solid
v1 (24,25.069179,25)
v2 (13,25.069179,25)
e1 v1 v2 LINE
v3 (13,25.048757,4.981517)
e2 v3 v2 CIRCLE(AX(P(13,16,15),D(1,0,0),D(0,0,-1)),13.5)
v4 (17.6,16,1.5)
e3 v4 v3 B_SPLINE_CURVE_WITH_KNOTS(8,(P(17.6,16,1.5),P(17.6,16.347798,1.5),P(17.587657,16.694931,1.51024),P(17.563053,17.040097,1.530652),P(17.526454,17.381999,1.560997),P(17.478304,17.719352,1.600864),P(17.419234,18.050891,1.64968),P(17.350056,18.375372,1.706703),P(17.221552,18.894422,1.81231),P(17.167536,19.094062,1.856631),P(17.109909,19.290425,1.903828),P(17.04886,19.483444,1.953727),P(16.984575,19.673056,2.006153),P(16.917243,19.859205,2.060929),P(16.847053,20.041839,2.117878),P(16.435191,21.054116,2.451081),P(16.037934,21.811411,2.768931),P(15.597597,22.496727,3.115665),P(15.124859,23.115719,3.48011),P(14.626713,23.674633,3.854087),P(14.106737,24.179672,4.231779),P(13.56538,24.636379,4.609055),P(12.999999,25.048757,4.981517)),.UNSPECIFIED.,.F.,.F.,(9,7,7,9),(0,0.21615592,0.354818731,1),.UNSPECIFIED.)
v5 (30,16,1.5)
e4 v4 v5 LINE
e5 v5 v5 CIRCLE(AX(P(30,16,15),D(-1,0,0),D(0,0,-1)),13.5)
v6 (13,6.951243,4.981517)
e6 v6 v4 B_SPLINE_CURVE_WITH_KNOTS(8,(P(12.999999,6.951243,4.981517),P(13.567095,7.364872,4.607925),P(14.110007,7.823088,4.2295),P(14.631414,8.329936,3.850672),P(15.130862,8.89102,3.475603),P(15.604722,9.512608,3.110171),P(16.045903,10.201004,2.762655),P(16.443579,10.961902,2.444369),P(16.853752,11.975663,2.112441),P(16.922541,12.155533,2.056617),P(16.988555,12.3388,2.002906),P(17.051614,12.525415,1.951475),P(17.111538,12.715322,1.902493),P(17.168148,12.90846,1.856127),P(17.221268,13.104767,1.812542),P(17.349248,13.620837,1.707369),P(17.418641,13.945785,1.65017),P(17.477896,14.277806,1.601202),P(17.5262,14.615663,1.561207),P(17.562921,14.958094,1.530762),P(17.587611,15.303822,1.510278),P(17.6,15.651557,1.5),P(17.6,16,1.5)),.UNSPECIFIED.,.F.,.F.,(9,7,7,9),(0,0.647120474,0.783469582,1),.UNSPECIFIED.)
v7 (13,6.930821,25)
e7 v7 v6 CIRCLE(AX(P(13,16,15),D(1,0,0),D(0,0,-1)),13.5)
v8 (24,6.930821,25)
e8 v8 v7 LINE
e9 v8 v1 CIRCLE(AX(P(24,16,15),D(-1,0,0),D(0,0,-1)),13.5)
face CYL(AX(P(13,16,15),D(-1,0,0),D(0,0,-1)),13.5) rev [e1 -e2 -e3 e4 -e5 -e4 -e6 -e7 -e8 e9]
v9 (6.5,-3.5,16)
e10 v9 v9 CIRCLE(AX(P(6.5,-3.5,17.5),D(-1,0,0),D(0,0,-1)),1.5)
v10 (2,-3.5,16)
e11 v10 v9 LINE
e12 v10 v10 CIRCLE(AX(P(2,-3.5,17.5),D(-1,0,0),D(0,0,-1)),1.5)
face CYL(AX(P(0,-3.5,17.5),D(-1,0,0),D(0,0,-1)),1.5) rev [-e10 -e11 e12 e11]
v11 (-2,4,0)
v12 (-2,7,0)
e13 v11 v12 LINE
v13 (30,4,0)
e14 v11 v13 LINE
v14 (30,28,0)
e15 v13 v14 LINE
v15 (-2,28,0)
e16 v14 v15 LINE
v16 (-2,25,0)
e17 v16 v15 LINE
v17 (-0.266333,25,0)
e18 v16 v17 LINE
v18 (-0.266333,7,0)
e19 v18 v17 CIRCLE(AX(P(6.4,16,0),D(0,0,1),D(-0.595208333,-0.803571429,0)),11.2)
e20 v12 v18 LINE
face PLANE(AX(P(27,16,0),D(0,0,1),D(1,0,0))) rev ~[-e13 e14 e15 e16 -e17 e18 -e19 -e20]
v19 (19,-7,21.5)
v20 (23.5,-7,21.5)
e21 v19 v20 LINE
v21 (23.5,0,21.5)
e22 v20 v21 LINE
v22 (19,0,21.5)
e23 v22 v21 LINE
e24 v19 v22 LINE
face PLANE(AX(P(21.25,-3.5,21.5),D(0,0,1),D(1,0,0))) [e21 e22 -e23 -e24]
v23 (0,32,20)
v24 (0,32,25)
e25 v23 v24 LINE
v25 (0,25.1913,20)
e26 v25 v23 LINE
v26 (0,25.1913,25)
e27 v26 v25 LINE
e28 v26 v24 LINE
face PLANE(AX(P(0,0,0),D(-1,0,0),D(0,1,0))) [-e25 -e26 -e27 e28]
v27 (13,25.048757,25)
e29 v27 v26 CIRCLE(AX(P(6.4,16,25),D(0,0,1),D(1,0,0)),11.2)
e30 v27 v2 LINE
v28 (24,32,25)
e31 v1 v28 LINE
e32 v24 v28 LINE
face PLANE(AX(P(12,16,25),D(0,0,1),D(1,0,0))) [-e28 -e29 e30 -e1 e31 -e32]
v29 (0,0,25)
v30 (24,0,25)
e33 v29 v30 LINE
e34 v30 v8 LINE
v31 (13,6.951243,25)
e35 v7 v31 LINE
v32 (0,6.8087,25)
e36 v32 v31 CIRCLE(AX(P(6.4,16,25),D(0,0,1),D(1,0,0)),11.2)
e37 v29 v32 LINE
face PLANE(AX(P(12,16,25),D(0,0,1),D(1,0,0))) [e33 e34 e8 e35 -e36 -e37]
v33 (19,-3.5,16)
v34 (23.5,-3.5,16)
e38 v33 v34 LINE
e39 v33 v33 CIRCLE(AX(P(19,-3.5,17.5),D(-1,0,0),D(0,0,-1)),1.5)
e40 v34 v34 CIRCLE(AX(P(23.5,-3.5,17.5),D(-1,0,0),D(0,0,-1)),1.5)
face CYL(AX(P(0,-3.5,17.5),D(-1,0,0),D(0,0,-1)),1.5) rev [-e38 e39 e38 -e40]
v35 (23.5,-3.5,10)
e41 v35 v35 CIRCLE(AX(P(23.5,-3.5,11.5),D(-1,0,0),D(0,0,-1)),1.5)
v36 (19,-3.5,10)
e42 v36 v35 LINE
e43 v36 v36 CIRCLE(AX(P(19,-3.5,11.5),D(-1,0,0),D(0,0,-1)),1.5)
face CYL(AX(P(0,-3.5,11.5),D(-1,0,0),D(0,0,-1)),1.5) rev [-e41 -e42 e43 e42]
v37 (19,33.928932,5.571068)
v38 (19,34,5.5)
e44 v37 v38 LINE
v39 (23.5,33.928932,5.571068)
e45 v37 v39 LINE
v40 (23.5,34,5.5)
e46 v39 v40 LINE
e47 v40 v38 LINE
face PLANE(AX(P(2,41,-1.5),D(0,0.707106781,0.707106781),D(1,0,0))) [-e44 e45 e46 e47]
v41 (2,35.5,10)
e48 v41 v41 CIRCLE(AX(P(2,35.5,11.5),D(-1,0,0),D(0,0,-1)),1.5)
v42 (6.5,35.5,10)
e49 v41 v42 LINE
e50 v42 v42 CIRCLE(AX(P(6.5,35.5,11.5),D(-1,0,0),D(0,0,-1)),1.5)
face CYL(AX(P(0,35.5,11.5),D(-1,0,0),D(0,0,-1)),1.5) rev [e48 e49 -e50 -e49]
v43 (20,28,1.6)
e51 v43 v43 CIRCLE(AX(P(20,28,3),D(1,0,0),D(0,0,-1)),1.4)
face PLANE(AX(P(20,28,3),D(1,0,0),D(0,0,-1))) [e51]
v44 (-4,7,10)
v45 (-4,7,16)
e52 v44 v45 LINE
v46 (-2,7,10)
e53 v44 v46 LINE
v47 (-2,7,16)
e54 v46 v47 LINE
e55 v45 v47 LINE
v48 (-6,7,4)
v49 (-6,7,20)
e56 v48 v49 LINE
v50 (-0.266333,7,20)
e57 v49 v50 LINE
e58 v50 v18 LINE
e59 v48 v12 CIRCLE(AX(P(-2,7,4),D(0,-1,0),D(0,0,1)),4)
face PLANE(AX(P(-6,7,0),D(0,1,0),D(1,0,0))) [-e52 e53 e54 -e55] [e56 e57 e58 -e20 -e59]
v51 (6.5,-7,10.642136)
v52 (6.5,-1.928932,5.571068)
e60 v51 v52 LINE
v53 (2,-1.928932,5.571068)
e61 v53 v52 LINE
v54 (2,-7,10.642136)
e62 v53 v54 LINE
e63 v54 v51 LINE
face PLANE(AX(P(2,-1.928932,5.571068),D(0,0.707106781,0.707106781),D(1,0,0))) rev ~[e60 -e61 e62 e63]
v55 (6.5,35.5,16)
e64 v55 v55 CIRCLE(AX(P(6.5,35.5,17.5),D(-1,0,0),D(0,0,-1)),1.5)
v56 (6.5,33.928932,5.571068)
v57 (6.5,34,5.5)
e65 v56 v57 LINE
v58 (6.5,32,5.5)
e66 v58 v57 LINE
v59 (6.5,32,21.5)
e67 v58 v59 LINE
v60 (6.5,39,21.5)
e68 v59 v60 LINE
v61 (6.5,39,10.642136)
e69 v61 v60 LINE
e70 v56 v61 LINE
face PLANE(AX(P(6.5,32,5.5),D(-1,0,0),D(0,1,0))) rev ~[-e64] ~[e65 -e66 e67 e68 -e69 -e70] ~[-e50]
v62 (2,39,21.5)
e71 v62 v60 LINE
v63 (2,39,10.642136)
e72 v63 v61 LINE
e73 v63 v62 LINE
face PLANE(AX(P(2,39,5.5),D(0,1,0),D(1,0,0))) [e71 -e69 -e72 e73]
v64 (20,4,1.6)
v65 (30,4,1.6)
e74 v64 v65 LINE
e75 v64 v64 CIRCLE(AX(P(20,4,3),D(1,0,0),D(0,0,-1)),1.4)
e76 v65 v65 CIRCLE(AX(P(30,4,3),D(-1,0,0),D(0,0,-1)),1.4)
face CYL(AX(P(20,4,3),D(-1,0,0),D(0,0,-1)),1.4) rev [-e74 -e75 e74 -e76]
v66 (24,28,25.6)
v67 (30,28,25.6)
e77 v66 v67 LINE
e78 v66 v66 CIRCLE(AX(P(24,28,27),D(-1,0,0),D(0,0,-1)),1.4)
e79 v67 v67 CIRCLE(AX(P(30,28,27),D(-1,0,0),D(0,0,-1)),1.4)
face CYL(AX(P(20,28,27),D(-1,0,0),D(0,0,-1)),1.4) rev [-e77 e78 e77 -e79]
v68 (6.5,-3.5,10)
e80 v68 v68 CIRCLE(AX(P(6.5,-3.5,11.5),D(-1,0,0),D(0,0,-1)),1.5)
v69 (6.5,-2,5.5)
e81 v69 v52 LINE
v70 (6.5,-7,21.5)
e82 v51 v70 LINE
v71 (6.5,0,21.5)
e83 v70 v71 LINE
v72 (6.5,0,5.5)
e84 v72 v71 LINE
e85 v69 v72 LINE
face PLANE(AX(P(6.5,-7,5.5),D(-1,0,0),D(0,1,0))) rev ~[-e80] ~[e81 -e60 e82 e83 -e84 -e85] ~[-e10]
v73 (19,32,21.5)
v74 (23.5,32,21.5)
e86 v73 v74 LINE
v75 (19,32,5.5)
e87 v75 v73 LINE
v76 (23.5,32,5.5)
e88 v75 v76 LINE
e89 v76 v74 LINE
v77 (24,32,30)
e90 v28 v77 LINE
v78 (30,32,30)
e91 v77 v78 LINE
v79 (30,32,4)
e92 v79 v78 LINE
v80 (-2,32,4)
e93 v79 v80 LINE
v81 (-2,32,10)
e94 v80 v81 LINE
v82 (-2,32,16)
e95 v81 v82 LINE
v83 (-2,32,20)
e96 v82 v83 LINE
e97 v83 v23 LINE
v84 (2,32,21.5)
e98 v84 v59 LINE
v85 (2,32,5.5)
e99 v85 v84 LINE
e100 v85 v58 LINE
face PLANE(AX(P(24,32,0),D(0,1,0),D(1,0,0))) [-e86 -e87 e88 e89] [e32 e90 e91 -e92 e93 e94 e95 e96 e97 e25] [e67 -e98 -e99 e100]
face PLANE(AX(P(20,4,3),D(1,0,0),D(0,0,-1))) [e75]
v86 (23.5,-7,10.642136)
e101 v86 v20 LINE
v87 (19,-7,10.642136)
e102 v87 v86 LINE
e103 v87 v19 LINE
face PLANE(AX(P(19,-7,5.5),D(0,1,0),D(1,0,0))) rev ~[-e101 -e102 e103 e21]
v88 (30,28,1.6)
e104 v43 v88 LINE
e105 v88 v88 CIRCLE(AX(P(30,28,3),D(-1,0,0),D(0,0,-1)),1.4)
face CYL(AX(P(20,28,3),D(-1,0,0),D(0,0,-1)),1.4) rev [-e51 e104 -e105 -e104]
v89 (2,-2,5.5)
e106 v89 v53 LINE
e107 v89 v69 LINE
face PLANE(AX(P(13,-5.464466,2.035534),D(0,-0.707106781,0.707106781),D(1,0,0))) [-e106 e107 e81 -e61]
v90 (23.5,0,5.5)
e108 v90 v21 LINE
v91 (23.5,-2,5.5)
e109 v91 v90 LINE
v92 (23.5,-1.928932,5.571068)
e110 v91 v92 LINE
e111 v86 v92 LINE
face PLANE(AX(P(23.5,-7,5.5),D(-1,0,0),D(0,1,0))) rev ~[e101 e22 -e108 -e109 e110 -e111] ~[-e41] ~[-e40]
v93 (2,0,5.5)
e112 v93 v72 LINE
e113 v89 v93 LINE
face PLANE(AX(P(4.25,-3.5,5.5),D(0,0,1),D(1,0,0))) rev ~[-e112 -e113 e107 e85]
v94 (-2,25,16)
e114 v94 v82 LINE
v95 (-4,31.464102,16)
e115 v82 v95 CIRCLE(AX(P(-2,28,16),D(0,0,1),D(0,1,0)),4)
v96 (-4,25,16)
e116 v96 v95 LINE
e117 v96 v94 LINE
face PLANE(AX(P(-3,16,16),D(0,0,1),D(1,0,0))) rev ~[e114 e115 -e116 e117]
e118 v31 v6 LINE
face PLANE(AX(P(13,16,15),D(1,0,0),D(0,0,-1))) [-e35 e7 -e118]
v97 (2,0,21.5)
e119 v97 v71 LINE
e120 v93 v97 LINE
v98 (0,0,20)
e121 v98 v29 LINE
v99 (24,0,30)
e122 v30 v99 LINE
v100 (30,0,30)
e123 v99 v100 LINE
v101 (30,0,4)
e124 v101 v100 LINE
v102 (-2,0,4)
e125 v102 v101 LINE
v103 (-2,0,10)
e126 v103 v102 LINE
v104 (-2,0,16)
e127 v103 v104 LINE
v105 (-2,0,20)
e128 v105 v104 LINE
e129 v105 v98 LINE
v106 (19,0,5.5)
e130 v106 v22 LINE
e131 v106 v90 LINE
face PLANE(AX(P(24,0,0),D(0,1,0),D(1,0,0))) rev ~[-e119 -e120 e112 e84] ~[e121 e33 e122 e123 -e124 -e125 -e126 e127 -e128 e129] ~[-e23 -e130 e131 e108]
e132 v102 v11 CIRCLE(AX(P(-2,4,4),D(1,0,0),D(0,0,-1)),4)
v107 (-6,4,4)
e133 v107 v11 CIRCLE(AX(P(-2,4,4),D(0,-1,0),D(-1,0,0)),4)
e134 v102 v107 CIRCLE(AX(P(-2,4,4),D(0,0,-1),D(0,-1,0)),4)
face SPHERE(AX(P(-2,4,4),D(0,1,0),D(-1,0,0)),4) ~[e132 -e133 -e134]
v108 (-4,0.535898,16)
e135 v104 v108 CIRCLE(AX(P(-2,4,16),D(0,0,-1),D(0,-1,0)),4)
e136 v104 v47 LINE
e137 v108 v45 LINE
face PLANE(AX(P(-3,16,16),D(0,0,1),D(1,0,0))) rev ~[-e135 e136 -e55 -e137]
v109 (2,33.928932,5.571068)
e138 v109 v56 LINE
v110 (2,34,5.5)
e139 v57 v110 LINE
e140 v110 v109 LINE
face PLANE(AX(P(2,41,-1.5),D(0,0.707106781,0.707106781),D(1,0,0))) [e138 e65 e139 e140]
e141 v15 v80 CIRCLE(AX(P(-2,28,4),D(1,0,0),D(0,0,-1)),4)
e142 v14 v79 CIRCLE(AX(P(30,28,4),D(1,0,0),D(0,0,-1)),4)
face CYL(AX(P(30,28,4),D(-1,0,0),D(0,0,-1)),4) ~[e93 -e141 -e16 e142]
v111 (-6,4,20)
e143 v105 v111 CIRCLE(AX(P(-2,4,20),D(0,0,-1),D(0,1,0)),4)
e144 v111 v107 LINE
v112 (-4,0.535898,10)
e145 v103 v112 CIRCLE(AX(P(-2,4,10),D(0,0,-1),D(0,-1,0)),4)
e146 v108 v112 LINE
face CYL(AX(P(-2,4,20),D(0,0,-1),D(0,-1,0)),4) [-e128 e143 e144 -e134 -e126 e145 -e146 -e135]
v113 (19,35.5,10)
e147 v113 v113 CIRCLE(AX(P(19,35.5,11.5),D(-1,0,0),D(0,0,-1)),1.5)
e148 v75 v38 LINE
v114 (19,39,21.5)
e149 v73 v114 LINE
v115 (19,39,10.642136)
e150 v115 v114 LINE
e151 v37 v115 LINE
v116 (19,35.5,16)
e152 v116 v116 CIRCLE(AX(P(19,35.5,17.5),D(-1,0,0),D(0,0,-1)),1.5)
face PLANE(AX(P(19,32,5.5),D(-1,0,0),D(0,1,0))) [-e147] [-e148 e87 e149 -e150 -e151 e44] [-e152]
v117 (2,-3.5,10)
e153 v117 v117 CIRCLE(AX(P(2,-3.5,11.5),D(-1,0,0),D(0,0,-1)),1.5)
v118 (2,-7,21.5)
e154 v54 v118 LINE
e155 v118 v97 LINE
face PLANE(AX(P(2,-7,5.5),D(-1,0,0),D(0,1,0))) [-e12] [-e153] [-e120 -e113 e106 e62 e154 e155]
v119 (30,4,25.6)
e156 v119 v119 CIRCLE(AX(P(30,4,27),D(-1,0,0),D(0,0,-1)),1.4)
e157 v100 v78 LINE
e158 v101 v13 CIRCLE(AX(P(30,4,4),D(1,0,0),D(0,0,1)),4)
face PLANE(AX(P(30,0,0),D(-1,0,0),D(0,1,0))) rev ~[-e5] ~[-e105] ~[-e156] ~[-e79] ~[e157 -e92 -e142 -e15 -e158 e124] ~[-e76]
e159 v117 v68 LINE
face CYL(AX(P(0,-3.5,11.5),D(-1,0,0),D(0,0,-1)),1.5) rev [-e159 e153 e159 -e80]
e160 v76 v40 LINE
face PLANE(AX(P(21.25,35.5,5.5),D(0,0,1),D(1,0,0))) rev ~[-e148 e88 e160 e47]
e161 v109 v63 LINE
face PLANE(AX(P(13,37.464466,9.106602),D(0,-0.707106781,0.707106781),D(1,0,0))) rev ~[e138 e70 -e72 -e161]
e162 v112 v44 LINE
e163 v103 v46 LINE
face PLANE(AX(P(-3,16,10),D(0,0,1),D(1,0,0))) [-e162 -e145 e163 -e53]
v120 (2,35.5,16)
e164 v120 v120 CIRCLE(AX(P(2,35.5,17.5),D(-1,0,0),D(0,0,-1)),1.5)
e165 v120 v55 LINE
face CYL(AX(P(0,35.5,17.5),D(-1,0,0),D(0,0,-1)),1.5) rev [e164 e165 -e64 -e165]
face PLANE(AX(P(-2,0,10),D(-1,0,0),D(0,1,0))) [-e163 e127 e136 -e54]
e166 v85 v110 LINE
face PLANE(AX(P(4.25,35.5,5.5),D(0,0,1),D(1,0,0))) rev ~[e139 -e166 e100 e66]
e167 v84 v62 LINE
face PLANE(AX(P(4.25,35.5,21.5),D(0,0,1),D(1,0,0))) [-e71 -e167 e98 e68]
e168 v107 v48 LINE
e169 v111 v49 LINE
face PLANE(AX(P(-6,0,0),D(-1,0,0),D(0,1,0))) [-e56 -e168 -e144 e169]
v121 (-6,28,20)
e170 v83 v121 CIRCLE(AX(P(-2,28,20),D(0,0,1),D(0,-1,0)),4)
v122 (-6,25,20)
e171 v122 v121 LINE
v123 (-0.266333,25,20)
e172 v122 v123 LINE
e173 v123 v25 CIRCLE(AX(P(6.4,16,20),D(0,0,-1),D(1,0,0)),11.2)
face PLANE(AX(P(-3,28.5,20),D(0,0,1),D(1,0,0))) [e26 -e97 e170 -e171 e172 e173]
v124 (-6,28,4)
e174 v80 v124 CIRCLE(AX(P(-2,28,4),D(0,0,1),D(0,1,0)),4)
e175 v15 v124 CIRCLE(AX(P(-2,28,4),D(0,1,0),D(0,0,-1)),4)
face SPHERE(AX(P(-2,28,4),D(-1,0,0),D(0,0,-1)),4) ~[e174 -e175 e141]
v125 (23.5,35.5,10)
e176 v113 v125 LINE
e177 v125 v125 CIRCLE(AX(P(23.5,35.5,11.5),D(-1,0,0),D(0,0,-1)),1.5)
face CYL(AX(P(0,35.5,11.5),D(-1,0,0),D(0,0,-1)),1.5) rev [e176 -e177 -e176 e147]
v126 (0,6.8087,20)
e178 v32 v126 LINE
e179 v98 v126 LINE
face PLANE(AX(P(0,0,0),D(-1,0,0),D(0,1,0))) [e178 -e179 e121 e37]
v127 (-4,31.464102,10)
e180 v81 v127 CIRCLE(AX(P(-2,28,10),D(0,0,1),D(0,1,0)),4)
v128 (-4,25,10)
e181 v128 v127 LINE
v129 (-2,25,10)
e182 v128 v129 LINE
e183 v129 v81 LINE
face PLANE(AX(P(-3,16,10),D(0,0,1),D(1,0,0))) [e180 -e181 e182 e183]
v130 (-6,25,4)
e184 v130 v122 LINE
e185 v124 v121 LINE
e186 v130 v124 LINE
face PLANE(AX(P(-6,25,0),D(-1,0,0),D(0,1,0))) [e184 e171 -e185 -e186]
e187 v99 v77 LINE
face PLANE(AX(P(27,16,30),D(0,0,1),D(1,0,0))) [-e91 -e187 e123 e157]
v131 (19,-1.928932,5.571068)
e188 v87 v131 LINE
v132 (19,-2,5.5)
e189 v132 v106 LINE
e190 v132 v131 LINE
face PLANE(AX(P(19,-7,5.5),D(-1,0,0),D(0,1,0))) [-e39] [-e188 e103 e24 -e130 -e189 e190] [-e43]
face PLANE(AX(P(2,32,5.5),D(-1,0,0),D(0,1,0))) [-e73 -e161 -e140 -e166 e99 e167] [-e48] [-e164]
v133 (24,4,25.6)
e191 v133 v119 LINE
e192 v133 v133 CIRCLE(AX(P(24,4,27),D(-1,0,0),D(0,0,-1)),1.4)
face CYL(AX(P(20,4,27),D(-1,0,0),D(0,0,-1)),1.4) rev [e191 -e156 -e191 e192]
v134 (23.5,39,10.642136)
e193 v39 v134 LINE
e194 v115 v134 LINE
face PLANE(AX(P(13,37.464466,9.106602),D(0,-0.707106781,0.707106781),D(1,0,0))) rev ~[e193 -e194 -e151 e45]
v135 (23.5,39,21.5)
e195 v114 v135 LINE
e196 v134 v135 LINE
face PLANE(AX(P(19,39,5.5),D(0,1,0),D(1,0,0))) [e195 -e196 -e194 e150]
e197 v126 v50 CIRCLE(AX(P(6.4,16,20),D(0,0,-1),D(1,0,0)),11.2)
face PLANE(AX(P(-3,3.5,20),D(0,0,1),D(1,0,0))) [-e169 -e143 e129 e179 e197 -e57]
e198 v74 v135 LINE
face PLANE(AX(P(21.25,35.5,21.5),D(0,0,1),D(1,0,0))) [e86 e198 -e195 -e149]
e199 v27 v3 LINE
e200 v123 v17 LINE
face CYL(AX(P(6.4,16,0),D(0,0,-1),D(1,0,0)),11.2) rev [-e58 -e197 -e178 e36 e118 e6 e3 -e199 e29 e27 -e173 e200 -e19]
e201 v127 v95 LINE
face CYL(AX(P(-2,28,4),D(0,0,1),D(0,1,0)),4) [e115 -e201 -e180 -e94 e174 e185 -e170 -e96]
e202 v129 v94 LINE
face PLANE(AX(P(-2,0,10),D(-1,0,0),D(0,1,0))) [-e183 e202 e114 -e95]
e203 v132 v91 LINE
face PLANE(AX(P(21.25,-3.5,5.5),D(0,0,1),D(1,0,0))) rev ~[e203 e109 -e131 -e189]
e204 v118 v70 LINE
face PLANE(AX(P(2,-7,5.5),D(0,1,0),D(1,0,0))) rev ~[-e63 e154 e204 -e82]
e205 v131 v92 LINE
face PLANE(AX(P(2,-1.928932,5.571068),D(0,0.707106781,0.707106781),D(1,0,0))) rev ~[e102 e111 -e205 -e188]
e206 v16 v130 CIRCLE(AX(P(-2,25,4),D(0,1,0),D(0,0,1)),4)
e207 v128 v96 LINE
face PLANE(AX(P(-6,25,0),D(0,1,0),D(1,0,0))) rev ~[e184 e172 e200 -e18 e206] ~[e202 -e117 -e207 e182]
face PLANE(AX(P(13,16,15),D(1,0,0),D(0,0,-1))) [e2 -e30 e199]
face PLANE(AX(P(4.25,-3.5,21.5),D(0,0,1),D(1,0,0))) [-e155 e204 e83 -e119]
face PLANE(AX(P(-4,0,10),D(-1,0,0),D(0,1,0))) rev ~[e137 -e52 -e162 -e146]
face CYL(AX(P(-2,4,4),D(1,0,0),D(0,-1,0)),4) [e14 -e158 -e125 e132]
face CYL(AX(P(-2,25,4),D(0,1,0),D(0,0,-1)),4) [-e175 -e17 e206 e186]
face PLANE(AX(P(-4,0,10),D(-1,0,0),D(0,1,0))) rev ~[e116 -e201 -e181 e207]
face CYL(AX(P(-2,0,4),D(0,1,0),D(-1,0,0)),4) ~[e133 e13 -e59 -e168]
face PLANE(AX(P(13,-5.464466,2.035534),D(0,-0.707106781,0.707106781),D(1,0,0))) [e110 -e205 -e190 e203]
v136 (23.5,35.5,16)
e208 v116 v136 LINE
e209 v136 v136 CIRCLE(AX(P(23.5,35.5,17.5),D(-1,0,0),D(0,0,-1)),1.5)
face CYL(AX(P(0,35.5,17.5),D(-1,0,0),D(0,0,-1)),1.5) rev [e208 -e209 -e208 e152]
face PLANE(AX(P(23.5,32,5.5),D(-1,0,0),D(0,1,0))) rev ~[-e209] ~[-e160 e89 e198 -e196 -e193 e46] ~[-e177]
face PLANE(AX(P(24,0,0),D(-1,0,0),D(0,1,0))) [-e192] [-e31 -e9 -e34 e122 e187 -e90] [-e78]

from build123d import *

# Parameters (mm, degrees)
BOX010_W                = 22
BOX010_H                = 10
BOX010_DEPTH            = 10
BOX010_ROLL_ANGLE       = 45
BOX009_W                = 22
BOX009_H                = 10
BOX009_DEPTH            = 10
BOX009_ROLL_ANGLE       = 45
CYLINDER010_R           = 1.5
CYLINDER010_DEPTH       = 40
CYLINDER010_PITCH_ANGLE = 90
CYLINDER011_R           = 1.5
CYLINDER011_DEPTH       = 40
CYLINDER011_PITCH_ANGLE = 90
CYLINDER012_R           = 1.5
CYLINDER012_DEPTH       = 40
CYLINDER012_PITCH_ANGLE = 90
CYLINDER009_R           = 1.5
CYLINDER009_DEPTH       = 40
CYLINDER009_PITCH_ANGLE = 90
BOX004_W                = 2
BOX004_H                = 32
BOX004_DEPTH            = 6
CYLINDER_R              = 11.2
CYLINDER_DEPTH          = 25
CYLINDER001_R           = 13.5
CYLINDER001_DEPTH       = 18
CYLINDER001_PITCH_ANGLE = 90
CYLINDER003_R           = 1.4
CYLINDER003_DEPTH       = 20
CYLINDER003_PITCH_ANGLE = 90
CYLINDER005_R           = 1.4
CYLINDER005_DEPTH       = 20
CYLINDER005_PITCH_ANGLE = 90
CYLINDER004_R           = 1.4
CYLINDER004_DEPTH       = 20
CYLINDER004_PITCH_ANGLE = 90
CYLINDER002_R           = 1.4
CYLINDER002_DEPTH       = 20
CYLINDER002_PITCH_ANGLE = 90
BOX002_W                = 6
BOX002_H                = 7
BOX002_DEPTH            = 20
BOX006_W                = 4.5
BOX006_H                = 7
BOX006_DEPTH            = 16
BOX007_W                = 4.5
BOX007_H                = 7
BOX007_DEPTH            = 16
BOX008_W                = 4.5
BOX008_H                = 7
BOX008_DEPTH            = 16
BOX005_W                = 4.5
BOX005_H                = 7
BOX005_DEPTH            = 16
BOX003_W                = 6
BOX003_H                = 7
BOX003_DEPTH            = 20
BOX001_W                = 6
BOX001_H                = 32
BOX001_DEPTH            = 30
BOX_W                   = 24
BOX_H                   = 32
BOX_DEPTH               = 25
FILLET_R                = 4
FILLET001_R             = 4
FILLET002_R             = 4
FILLET003_R             = 4


with BuildPart() as cube010:
    # Box010 → Box010 (new body)
    with BuildSketch(Plane.XY):
        with Locations((11, 5)):
            Rectangle(BOX010_W, BOX010_H)
    extrude(amount=BOX010_DEPTH)


with BuildPart() as cube010_1:
    # Box010 roll: moved
    add(cube010.part.rotate(Axis((0, 0, 0), (1, 0, 0)), BOX010_ROLL_ANGLE))


with BuildPart() as cube010_2:
    # Box010 placement: moved
    add(cube010_1.part.moved(Location((2, 41, -7))))


with BuildPart() as fusionwingcuts:
    # Box009 → Box009 (new body)
    with BuildSketch(Plane.XY):
        with Locations((11, 5)):
            Rectangle(BOX009_W, BOX009_H)
    extrude(amount=BOX009_DEPTH)


with BuildPart() as fusionwingcuts_1:
    # Box009 roll: moved
    add(fusionwingcuts.part.rotate(Axis((0, 0, 0), (1, 0, 0)), BOX009_ROLL_ANGLE))


with BuildPart() as fusionwingcuts_2:
    # Box009 placement: moved
    add(fusionwingcuts_1.part.moved(Location((2, -9, -7))))

    # Fusion005: union Cube010
    add(cube010_2.part)


with BuildPart() as fusionwingcuts_3:
    # Fusion005 placement: moved
    add(fusionwingcuts_2.part.moved(Location((0, 0, 5.5))))


with BuildPart() as cylinder010:
    # Cylinder010 → Cylinder010 (new body)
    with BuildSketch(Plane.XY):
        Circle(CYLINDER010_R)
    extrude(amount=CYLINDER010_DEPTH)


with BuildPart() as cylinder010_1:
    # Cylinder010 pitch: moved
    add(cylinder010.part.rotate(Axis((0, 0, 0), (0, 1, 0)), CYLINDER010_PITCH_ANGLE))


with BuildPart() as cylinder010_2:
    # Cylinder010 placement: moved
    add(cylinder010_1.part.moved(Location((0, -3.5, 6))))


with BuildPart() as cylinder011:
    # Cylinder011 → Cylinder011 (new body)
    with BuildSketch(Plane.XY):
        Circle(CYLINDER011_R)
    extrude(amount=CYLINDER011_DEPTH)


with BuildPart() as cylinder011_1:
    # Cylinder011 pitch: moved
    add(cylinder011.part.rotate(Axis((0, 0, 0), (0, 1, 0)), CYLINDER011_PITCH_ANGLE))


with BuildPart() as cylinder011_2:
    # Cylinder011 placement: moved
    add(cylinder011_1.part.moved(Location((0, 35.5, 12))))


with BuildPart() as cylinder012:
    # Cylinder012 → Cylinder012 (new body)
    with BuildSketch(Plane.XY):
        Circle(CYLINDER012_R)
    extrude(amount=CYLINDER012_DEPTH)


with BuildPart() as cylinder012_1:
    # Cylinder012 pitch: moved
    add(cylinder012.part.rotate(Axis((0, 0, 0), (0, 1, 0)), CYLINDER012_PITCH_ANGLE))


with BuildPart() as cylinder012_2:
    # Cylinder012 placement: moved
    add(cylinder012_1.part.moved(Location((0, 35.5, 6))))


with BuildPart() as fusionwingscrews:
    # Cylinder009 → Cylinder009 (new body)
    with BuildSketch(Plane.XY):
        Circle(CYLINDER009_R)
    extrude(amount=CYLINDER009_DEPTH)


with BuildPart() as fusionwingscrews_1:
    # Cylinder009 pitch: moved
    add(fusionwingscrews.part.rotate(Axis((0, 0, 0), (0, 1, 0)), CYLINDER009_PITCH_ANGLE))


with BuildPart() as fusionwingscrews_2:
    # Cylinder009 placement: moved
    add(fusionwingscrews_1.part.moved(Location((0, -3.5, 12))))

    # Fusion004: union Cylinder010, Cylinder011, Cylinder012
    add(cylinder010_2.part)
    add(cylinder011_2.part)
    add(cylinder012_2.part)


with BuildPart() as fusionwingscrews_3:
    # Fusion004 placement: moved
    add(fusionwingscrews_2.part.moved(Location((0, 0, 5.5))))


with BuildPart() as cubeziptiehor:
    # Box004 → Box004 (new body)
    with BuildSketch(Plane(origin=(-4, 0, 10), x_dir=(1, 0, 0), z_dir=(0, 0, 1))):
        with Locations((1, 16)):
            Rectangle(BOX004_W, BOX004_H)
    extrude(amount=BOX004_DEPTH)


with BuildPart() as cylinderheatsink:
    # Cylinder → Cylinder (new body)
    with BuildSketch(Plane(origin=(6.4, 16, 0), x_dir=(1, 0, 0), z_dir=(0, 0, 1))):
        Circle(CYLINDER_R)
    extrude(amount=CYLINDER_DEPTH)


with BuildPart() as cylinderfan:
    # Cylinder001 → Cylinder001 (new body)
    with BuildSketch(Plane.XY):
        Circle(CYLINDER001_R)
    extrude(amount=CYLINDER001_DEPTH)


with BuildPart() as cylinderfan_1:
    # Cylinder001 pitch: moved
    add(cylinderfan.part.rotate(Axis((0, 0, 0), (0, 1, 0)), CYLINDER001_PITCH_ANGLE))


with BuildPart() as cylinderfan_2:
    # Cylinder001 placement: moved
    add(cylinderfan_1.part.moved(Location((13, 16, 15))))


with BuildPart() as cylindertl:
    # Cylinder003 → Cylinder003 (new body)
    with BuildSketch(Plane.XY):
        Circle(CYLINDER003_R)
    extrude(amount=CYLINDER003_DEPTH)


with BuildPart() as cylindertl_1:
    # Cylinder003 pitch: moved
    add(cylindertl.part.rotate(Axis((0, 0, 0), (0, 1, 0)), CYLINDER003_PITCH_ANGLE))


with BuildPart() as cylindertl_2:
    # Cylinder003 placement: moved
    add(cylindertl_1.part.moved(Location((20, 4, 27))))


with BuildPart() as cylinderrb:
    # Cylinder005 → Cylinder005 (new body)
    with BuildSketch(Plane.XY):
        Circle(CYLINDER005_R)
    extrude(amount=CYLINDER005_DEPTH)


with BuildPart() as cylinderrb_1:
    # Cylinder005 pitch: moved
    add(cylinderrb.part.rotate(Axis((0, 0, 0), (0, 1, 0)), CYLINDER005_PITCH_ANGLE))


with BuildPart() as cylinderrb_2:
    # Cylinder005 placement: moved
    add(cylinderrb_1.part.moved(Location((20, 28, 3))))


with BuildPart() as cylindertb:
    # Cylinder004 → Cylinder004 (new body)
    with BuildSketch(Plane.XY):
        Circle(CYLINDER004_R)
    extrude(amount=CYLINDER004_DEPTH)


with BuildPart() as cylindertb_1:
    # Cylinder004 pitch: moved
    add(cylindertb.part.rotate(Axis((0, 0, 0), (0, 1, 0)), CYLINDER004_PITCH_ANGLE))


with BuildPart() as cylindertb_2:
    # Cylinder004 placement: moved
    add(cylindertb_1.part.moved(Location((20, 28, 27))))


with BuildPart() as fusioncuts:
    # Cylinder002 → Cylinder002 (new body)
    with BuildSketch(Plane.XY):
        Circle(CYLINDER002_R)
    extrude(amount=CYLINDER002_DEPTH)


with BuildPart() as fusioncuts_1:
    # Cylinder002 pitch: moved
    add(fusioncuts.part.rotate(Axis((0, 0, 0), (0, 1, 0)), CYLINDER002_PITCH_ANGLE))


with BuildPart() as fusioncuts_2:
    # Cylinder002 placement: moved
    add(fusioncuts_1.part.moved(Location((20, 4, 3))))

    # Fusion001: union CylinderTL, CylinderRB, CylinderTB
    add(cylindertl_2.part)
    add(cylinderrb_2.part)
    add(cylindertb_2.part)

    # Fusion: union FusionWingCuts, FusionWingScrews, CubeZipTieHor, CylinderHeatSink, CylinderFan
    add(fusionwingcuts_3.part)
    add(fusionwingscrews_3.part)
    add(cubeziptiehor.part)
    add(cylinderheatsink.part)
    add(cylinderfan_2.part)


with BuildPart() as cubeziptiel:
    # Box002 → Box002 (new body)
    with BuildSketch(Plane(origin=(-6, 0, 0), x_dir=(1, 0, 0), z_dir=(0, 0, 1))):
        with Locations((3, 3.5)):
            Rectangle(BOX002_W, BOX002_H)
    extrude(amount=BOX002_DEPTH)


with BuildPart() as cube006:
    # Box006 → Box006 (new body)
    with BuildSketch(Plane(origin=(19, -7, 0), x_dir=(1, 0, 0), z_dir=(0, 0, 1))):
        with Locations((2.25, 3.5)):
            Rectangle(BOX006_W, BOX006_H)
    extrude(amount=BOX006_DEPTH)


with BuildPart() as cube007:
    # Box007 → Box007 (new body)
    with BuildSketch(Plane(origin=(2, 32, 0), x_dir=(1, 0, 0), z_dir=(0, 0, 1))):
        with Locations((2.25, 3.5)):
            Rectangle(BOX007_W, BOX007_H)
    extrude(amount=BOX007_DEPTH)


with BuildPart() as cube008:
    # Box008 → Box008 (new body)
    with BuildSketch(Plane(origin=(19, 32, 0), x_dir=(1, 0, 0), z_dir=(0, 0, 1))):
        with Locations((2.25, 3.5)):
            Rectangle(BOX008_W, BOX008_H)
    extrude(amount=BOX008_DEPTH)


with BuildPart() as fusionwings:
    # Box005 → Box005 (new body)
    with BuildSketch(Plane(origin=(2, -7, 0), x_dir=(1, 0, 0), z_dir=(0, 0, 1))):
        with Locations((2.25, 3.5)):
            Rectangle(BOX005_W, BOX005_H)
    extrude(amount=BOX005_DEPTH)

    # Fusion006: union Cube006, Cube007, Cube008
    add(cube006.part)
    add(cube007.part)
    add(cube008.part)


with BuildPart() as fusionwings_1:
    # Fusion006 placement: moved
    add(fusionwings.part.moved(Location((0, 0, 5.5))))


with BuildPart() as cubziptier:
    # Box003 → Box003 (new body)
    with BuildSketch(Plane(origin=(-6, 25, 0), x_dir=(1, 0, 0), z_dir=(0, 0, 1))):
        with Locations((3, 3.5)):
            Rectangle(BOX003_W, BOX003_H)
    extrude(amount=BOX003_DEPTH)


with BuildPart() as cubefrontmask:
    # Box001 → Box001 (new body)
    with BuildSketch(Plane(origin=(24, 0, 0), x_dir=(1, 0, 0), z_dir=(0, 0, 1))):
        with Locations((3, 16)):
            Rectangle(BOX001_W, BOX001_H)
    extrude(amount=BOX001_DEPTH)


with BuildPart() as cute3dv6:
    # Box → Box (new body)
    with BuildSketch(Plane.XY):
        with Locations((12, 16)):
            Rectangle(BOX_W, BOX_H)
    extrude(amount=BOX_DEPTH)

    # Fusion007: union CubeZipTieL, FusionWings, CubZipTieR, CubeFrontMask
    add(cubeziptiel.part)
    add(fusionwings_1.part)
    add(cubziptier.part)
    add(cubefrontmask.part)

    # Fillet
    fillet_edges = [cute3dv6.edges().sort_by_distance(p)[0] for p in [
        (-6, 3.5, 0),
    ]]
    fillet(fillet_edges, radius=FILLET_R)

    # Fillet001
    fillet001_edges = [cute3dv6.edges().sort_by_distance(p)[0] for p in [
        (12, 0, 0),
    ]]
    fillet(fillet001_edges, radius=FILLET001_R)

    # Fillet002
    fillet002_edges = [cute3dv6.edges().sort_by_distance(p)[0] for p in [
        (12, 32, 0),
    ]]
    fillet(fillet002_edges, radius=FILLET002_R)

    # Fillet003
    fillet003_edges = [cute3dv6.edges().sort_by_distance(p)[0] for p in [
        (-6, 26.5, 0),
    ]]
    fillet(fillet003_edges, radius=FILLET003_R)

    # Cut: cut FusionCUTS
    add(fusioncuts_2.part, mode=Mode.SUBTRACT)


solid = cute3dv6.part
